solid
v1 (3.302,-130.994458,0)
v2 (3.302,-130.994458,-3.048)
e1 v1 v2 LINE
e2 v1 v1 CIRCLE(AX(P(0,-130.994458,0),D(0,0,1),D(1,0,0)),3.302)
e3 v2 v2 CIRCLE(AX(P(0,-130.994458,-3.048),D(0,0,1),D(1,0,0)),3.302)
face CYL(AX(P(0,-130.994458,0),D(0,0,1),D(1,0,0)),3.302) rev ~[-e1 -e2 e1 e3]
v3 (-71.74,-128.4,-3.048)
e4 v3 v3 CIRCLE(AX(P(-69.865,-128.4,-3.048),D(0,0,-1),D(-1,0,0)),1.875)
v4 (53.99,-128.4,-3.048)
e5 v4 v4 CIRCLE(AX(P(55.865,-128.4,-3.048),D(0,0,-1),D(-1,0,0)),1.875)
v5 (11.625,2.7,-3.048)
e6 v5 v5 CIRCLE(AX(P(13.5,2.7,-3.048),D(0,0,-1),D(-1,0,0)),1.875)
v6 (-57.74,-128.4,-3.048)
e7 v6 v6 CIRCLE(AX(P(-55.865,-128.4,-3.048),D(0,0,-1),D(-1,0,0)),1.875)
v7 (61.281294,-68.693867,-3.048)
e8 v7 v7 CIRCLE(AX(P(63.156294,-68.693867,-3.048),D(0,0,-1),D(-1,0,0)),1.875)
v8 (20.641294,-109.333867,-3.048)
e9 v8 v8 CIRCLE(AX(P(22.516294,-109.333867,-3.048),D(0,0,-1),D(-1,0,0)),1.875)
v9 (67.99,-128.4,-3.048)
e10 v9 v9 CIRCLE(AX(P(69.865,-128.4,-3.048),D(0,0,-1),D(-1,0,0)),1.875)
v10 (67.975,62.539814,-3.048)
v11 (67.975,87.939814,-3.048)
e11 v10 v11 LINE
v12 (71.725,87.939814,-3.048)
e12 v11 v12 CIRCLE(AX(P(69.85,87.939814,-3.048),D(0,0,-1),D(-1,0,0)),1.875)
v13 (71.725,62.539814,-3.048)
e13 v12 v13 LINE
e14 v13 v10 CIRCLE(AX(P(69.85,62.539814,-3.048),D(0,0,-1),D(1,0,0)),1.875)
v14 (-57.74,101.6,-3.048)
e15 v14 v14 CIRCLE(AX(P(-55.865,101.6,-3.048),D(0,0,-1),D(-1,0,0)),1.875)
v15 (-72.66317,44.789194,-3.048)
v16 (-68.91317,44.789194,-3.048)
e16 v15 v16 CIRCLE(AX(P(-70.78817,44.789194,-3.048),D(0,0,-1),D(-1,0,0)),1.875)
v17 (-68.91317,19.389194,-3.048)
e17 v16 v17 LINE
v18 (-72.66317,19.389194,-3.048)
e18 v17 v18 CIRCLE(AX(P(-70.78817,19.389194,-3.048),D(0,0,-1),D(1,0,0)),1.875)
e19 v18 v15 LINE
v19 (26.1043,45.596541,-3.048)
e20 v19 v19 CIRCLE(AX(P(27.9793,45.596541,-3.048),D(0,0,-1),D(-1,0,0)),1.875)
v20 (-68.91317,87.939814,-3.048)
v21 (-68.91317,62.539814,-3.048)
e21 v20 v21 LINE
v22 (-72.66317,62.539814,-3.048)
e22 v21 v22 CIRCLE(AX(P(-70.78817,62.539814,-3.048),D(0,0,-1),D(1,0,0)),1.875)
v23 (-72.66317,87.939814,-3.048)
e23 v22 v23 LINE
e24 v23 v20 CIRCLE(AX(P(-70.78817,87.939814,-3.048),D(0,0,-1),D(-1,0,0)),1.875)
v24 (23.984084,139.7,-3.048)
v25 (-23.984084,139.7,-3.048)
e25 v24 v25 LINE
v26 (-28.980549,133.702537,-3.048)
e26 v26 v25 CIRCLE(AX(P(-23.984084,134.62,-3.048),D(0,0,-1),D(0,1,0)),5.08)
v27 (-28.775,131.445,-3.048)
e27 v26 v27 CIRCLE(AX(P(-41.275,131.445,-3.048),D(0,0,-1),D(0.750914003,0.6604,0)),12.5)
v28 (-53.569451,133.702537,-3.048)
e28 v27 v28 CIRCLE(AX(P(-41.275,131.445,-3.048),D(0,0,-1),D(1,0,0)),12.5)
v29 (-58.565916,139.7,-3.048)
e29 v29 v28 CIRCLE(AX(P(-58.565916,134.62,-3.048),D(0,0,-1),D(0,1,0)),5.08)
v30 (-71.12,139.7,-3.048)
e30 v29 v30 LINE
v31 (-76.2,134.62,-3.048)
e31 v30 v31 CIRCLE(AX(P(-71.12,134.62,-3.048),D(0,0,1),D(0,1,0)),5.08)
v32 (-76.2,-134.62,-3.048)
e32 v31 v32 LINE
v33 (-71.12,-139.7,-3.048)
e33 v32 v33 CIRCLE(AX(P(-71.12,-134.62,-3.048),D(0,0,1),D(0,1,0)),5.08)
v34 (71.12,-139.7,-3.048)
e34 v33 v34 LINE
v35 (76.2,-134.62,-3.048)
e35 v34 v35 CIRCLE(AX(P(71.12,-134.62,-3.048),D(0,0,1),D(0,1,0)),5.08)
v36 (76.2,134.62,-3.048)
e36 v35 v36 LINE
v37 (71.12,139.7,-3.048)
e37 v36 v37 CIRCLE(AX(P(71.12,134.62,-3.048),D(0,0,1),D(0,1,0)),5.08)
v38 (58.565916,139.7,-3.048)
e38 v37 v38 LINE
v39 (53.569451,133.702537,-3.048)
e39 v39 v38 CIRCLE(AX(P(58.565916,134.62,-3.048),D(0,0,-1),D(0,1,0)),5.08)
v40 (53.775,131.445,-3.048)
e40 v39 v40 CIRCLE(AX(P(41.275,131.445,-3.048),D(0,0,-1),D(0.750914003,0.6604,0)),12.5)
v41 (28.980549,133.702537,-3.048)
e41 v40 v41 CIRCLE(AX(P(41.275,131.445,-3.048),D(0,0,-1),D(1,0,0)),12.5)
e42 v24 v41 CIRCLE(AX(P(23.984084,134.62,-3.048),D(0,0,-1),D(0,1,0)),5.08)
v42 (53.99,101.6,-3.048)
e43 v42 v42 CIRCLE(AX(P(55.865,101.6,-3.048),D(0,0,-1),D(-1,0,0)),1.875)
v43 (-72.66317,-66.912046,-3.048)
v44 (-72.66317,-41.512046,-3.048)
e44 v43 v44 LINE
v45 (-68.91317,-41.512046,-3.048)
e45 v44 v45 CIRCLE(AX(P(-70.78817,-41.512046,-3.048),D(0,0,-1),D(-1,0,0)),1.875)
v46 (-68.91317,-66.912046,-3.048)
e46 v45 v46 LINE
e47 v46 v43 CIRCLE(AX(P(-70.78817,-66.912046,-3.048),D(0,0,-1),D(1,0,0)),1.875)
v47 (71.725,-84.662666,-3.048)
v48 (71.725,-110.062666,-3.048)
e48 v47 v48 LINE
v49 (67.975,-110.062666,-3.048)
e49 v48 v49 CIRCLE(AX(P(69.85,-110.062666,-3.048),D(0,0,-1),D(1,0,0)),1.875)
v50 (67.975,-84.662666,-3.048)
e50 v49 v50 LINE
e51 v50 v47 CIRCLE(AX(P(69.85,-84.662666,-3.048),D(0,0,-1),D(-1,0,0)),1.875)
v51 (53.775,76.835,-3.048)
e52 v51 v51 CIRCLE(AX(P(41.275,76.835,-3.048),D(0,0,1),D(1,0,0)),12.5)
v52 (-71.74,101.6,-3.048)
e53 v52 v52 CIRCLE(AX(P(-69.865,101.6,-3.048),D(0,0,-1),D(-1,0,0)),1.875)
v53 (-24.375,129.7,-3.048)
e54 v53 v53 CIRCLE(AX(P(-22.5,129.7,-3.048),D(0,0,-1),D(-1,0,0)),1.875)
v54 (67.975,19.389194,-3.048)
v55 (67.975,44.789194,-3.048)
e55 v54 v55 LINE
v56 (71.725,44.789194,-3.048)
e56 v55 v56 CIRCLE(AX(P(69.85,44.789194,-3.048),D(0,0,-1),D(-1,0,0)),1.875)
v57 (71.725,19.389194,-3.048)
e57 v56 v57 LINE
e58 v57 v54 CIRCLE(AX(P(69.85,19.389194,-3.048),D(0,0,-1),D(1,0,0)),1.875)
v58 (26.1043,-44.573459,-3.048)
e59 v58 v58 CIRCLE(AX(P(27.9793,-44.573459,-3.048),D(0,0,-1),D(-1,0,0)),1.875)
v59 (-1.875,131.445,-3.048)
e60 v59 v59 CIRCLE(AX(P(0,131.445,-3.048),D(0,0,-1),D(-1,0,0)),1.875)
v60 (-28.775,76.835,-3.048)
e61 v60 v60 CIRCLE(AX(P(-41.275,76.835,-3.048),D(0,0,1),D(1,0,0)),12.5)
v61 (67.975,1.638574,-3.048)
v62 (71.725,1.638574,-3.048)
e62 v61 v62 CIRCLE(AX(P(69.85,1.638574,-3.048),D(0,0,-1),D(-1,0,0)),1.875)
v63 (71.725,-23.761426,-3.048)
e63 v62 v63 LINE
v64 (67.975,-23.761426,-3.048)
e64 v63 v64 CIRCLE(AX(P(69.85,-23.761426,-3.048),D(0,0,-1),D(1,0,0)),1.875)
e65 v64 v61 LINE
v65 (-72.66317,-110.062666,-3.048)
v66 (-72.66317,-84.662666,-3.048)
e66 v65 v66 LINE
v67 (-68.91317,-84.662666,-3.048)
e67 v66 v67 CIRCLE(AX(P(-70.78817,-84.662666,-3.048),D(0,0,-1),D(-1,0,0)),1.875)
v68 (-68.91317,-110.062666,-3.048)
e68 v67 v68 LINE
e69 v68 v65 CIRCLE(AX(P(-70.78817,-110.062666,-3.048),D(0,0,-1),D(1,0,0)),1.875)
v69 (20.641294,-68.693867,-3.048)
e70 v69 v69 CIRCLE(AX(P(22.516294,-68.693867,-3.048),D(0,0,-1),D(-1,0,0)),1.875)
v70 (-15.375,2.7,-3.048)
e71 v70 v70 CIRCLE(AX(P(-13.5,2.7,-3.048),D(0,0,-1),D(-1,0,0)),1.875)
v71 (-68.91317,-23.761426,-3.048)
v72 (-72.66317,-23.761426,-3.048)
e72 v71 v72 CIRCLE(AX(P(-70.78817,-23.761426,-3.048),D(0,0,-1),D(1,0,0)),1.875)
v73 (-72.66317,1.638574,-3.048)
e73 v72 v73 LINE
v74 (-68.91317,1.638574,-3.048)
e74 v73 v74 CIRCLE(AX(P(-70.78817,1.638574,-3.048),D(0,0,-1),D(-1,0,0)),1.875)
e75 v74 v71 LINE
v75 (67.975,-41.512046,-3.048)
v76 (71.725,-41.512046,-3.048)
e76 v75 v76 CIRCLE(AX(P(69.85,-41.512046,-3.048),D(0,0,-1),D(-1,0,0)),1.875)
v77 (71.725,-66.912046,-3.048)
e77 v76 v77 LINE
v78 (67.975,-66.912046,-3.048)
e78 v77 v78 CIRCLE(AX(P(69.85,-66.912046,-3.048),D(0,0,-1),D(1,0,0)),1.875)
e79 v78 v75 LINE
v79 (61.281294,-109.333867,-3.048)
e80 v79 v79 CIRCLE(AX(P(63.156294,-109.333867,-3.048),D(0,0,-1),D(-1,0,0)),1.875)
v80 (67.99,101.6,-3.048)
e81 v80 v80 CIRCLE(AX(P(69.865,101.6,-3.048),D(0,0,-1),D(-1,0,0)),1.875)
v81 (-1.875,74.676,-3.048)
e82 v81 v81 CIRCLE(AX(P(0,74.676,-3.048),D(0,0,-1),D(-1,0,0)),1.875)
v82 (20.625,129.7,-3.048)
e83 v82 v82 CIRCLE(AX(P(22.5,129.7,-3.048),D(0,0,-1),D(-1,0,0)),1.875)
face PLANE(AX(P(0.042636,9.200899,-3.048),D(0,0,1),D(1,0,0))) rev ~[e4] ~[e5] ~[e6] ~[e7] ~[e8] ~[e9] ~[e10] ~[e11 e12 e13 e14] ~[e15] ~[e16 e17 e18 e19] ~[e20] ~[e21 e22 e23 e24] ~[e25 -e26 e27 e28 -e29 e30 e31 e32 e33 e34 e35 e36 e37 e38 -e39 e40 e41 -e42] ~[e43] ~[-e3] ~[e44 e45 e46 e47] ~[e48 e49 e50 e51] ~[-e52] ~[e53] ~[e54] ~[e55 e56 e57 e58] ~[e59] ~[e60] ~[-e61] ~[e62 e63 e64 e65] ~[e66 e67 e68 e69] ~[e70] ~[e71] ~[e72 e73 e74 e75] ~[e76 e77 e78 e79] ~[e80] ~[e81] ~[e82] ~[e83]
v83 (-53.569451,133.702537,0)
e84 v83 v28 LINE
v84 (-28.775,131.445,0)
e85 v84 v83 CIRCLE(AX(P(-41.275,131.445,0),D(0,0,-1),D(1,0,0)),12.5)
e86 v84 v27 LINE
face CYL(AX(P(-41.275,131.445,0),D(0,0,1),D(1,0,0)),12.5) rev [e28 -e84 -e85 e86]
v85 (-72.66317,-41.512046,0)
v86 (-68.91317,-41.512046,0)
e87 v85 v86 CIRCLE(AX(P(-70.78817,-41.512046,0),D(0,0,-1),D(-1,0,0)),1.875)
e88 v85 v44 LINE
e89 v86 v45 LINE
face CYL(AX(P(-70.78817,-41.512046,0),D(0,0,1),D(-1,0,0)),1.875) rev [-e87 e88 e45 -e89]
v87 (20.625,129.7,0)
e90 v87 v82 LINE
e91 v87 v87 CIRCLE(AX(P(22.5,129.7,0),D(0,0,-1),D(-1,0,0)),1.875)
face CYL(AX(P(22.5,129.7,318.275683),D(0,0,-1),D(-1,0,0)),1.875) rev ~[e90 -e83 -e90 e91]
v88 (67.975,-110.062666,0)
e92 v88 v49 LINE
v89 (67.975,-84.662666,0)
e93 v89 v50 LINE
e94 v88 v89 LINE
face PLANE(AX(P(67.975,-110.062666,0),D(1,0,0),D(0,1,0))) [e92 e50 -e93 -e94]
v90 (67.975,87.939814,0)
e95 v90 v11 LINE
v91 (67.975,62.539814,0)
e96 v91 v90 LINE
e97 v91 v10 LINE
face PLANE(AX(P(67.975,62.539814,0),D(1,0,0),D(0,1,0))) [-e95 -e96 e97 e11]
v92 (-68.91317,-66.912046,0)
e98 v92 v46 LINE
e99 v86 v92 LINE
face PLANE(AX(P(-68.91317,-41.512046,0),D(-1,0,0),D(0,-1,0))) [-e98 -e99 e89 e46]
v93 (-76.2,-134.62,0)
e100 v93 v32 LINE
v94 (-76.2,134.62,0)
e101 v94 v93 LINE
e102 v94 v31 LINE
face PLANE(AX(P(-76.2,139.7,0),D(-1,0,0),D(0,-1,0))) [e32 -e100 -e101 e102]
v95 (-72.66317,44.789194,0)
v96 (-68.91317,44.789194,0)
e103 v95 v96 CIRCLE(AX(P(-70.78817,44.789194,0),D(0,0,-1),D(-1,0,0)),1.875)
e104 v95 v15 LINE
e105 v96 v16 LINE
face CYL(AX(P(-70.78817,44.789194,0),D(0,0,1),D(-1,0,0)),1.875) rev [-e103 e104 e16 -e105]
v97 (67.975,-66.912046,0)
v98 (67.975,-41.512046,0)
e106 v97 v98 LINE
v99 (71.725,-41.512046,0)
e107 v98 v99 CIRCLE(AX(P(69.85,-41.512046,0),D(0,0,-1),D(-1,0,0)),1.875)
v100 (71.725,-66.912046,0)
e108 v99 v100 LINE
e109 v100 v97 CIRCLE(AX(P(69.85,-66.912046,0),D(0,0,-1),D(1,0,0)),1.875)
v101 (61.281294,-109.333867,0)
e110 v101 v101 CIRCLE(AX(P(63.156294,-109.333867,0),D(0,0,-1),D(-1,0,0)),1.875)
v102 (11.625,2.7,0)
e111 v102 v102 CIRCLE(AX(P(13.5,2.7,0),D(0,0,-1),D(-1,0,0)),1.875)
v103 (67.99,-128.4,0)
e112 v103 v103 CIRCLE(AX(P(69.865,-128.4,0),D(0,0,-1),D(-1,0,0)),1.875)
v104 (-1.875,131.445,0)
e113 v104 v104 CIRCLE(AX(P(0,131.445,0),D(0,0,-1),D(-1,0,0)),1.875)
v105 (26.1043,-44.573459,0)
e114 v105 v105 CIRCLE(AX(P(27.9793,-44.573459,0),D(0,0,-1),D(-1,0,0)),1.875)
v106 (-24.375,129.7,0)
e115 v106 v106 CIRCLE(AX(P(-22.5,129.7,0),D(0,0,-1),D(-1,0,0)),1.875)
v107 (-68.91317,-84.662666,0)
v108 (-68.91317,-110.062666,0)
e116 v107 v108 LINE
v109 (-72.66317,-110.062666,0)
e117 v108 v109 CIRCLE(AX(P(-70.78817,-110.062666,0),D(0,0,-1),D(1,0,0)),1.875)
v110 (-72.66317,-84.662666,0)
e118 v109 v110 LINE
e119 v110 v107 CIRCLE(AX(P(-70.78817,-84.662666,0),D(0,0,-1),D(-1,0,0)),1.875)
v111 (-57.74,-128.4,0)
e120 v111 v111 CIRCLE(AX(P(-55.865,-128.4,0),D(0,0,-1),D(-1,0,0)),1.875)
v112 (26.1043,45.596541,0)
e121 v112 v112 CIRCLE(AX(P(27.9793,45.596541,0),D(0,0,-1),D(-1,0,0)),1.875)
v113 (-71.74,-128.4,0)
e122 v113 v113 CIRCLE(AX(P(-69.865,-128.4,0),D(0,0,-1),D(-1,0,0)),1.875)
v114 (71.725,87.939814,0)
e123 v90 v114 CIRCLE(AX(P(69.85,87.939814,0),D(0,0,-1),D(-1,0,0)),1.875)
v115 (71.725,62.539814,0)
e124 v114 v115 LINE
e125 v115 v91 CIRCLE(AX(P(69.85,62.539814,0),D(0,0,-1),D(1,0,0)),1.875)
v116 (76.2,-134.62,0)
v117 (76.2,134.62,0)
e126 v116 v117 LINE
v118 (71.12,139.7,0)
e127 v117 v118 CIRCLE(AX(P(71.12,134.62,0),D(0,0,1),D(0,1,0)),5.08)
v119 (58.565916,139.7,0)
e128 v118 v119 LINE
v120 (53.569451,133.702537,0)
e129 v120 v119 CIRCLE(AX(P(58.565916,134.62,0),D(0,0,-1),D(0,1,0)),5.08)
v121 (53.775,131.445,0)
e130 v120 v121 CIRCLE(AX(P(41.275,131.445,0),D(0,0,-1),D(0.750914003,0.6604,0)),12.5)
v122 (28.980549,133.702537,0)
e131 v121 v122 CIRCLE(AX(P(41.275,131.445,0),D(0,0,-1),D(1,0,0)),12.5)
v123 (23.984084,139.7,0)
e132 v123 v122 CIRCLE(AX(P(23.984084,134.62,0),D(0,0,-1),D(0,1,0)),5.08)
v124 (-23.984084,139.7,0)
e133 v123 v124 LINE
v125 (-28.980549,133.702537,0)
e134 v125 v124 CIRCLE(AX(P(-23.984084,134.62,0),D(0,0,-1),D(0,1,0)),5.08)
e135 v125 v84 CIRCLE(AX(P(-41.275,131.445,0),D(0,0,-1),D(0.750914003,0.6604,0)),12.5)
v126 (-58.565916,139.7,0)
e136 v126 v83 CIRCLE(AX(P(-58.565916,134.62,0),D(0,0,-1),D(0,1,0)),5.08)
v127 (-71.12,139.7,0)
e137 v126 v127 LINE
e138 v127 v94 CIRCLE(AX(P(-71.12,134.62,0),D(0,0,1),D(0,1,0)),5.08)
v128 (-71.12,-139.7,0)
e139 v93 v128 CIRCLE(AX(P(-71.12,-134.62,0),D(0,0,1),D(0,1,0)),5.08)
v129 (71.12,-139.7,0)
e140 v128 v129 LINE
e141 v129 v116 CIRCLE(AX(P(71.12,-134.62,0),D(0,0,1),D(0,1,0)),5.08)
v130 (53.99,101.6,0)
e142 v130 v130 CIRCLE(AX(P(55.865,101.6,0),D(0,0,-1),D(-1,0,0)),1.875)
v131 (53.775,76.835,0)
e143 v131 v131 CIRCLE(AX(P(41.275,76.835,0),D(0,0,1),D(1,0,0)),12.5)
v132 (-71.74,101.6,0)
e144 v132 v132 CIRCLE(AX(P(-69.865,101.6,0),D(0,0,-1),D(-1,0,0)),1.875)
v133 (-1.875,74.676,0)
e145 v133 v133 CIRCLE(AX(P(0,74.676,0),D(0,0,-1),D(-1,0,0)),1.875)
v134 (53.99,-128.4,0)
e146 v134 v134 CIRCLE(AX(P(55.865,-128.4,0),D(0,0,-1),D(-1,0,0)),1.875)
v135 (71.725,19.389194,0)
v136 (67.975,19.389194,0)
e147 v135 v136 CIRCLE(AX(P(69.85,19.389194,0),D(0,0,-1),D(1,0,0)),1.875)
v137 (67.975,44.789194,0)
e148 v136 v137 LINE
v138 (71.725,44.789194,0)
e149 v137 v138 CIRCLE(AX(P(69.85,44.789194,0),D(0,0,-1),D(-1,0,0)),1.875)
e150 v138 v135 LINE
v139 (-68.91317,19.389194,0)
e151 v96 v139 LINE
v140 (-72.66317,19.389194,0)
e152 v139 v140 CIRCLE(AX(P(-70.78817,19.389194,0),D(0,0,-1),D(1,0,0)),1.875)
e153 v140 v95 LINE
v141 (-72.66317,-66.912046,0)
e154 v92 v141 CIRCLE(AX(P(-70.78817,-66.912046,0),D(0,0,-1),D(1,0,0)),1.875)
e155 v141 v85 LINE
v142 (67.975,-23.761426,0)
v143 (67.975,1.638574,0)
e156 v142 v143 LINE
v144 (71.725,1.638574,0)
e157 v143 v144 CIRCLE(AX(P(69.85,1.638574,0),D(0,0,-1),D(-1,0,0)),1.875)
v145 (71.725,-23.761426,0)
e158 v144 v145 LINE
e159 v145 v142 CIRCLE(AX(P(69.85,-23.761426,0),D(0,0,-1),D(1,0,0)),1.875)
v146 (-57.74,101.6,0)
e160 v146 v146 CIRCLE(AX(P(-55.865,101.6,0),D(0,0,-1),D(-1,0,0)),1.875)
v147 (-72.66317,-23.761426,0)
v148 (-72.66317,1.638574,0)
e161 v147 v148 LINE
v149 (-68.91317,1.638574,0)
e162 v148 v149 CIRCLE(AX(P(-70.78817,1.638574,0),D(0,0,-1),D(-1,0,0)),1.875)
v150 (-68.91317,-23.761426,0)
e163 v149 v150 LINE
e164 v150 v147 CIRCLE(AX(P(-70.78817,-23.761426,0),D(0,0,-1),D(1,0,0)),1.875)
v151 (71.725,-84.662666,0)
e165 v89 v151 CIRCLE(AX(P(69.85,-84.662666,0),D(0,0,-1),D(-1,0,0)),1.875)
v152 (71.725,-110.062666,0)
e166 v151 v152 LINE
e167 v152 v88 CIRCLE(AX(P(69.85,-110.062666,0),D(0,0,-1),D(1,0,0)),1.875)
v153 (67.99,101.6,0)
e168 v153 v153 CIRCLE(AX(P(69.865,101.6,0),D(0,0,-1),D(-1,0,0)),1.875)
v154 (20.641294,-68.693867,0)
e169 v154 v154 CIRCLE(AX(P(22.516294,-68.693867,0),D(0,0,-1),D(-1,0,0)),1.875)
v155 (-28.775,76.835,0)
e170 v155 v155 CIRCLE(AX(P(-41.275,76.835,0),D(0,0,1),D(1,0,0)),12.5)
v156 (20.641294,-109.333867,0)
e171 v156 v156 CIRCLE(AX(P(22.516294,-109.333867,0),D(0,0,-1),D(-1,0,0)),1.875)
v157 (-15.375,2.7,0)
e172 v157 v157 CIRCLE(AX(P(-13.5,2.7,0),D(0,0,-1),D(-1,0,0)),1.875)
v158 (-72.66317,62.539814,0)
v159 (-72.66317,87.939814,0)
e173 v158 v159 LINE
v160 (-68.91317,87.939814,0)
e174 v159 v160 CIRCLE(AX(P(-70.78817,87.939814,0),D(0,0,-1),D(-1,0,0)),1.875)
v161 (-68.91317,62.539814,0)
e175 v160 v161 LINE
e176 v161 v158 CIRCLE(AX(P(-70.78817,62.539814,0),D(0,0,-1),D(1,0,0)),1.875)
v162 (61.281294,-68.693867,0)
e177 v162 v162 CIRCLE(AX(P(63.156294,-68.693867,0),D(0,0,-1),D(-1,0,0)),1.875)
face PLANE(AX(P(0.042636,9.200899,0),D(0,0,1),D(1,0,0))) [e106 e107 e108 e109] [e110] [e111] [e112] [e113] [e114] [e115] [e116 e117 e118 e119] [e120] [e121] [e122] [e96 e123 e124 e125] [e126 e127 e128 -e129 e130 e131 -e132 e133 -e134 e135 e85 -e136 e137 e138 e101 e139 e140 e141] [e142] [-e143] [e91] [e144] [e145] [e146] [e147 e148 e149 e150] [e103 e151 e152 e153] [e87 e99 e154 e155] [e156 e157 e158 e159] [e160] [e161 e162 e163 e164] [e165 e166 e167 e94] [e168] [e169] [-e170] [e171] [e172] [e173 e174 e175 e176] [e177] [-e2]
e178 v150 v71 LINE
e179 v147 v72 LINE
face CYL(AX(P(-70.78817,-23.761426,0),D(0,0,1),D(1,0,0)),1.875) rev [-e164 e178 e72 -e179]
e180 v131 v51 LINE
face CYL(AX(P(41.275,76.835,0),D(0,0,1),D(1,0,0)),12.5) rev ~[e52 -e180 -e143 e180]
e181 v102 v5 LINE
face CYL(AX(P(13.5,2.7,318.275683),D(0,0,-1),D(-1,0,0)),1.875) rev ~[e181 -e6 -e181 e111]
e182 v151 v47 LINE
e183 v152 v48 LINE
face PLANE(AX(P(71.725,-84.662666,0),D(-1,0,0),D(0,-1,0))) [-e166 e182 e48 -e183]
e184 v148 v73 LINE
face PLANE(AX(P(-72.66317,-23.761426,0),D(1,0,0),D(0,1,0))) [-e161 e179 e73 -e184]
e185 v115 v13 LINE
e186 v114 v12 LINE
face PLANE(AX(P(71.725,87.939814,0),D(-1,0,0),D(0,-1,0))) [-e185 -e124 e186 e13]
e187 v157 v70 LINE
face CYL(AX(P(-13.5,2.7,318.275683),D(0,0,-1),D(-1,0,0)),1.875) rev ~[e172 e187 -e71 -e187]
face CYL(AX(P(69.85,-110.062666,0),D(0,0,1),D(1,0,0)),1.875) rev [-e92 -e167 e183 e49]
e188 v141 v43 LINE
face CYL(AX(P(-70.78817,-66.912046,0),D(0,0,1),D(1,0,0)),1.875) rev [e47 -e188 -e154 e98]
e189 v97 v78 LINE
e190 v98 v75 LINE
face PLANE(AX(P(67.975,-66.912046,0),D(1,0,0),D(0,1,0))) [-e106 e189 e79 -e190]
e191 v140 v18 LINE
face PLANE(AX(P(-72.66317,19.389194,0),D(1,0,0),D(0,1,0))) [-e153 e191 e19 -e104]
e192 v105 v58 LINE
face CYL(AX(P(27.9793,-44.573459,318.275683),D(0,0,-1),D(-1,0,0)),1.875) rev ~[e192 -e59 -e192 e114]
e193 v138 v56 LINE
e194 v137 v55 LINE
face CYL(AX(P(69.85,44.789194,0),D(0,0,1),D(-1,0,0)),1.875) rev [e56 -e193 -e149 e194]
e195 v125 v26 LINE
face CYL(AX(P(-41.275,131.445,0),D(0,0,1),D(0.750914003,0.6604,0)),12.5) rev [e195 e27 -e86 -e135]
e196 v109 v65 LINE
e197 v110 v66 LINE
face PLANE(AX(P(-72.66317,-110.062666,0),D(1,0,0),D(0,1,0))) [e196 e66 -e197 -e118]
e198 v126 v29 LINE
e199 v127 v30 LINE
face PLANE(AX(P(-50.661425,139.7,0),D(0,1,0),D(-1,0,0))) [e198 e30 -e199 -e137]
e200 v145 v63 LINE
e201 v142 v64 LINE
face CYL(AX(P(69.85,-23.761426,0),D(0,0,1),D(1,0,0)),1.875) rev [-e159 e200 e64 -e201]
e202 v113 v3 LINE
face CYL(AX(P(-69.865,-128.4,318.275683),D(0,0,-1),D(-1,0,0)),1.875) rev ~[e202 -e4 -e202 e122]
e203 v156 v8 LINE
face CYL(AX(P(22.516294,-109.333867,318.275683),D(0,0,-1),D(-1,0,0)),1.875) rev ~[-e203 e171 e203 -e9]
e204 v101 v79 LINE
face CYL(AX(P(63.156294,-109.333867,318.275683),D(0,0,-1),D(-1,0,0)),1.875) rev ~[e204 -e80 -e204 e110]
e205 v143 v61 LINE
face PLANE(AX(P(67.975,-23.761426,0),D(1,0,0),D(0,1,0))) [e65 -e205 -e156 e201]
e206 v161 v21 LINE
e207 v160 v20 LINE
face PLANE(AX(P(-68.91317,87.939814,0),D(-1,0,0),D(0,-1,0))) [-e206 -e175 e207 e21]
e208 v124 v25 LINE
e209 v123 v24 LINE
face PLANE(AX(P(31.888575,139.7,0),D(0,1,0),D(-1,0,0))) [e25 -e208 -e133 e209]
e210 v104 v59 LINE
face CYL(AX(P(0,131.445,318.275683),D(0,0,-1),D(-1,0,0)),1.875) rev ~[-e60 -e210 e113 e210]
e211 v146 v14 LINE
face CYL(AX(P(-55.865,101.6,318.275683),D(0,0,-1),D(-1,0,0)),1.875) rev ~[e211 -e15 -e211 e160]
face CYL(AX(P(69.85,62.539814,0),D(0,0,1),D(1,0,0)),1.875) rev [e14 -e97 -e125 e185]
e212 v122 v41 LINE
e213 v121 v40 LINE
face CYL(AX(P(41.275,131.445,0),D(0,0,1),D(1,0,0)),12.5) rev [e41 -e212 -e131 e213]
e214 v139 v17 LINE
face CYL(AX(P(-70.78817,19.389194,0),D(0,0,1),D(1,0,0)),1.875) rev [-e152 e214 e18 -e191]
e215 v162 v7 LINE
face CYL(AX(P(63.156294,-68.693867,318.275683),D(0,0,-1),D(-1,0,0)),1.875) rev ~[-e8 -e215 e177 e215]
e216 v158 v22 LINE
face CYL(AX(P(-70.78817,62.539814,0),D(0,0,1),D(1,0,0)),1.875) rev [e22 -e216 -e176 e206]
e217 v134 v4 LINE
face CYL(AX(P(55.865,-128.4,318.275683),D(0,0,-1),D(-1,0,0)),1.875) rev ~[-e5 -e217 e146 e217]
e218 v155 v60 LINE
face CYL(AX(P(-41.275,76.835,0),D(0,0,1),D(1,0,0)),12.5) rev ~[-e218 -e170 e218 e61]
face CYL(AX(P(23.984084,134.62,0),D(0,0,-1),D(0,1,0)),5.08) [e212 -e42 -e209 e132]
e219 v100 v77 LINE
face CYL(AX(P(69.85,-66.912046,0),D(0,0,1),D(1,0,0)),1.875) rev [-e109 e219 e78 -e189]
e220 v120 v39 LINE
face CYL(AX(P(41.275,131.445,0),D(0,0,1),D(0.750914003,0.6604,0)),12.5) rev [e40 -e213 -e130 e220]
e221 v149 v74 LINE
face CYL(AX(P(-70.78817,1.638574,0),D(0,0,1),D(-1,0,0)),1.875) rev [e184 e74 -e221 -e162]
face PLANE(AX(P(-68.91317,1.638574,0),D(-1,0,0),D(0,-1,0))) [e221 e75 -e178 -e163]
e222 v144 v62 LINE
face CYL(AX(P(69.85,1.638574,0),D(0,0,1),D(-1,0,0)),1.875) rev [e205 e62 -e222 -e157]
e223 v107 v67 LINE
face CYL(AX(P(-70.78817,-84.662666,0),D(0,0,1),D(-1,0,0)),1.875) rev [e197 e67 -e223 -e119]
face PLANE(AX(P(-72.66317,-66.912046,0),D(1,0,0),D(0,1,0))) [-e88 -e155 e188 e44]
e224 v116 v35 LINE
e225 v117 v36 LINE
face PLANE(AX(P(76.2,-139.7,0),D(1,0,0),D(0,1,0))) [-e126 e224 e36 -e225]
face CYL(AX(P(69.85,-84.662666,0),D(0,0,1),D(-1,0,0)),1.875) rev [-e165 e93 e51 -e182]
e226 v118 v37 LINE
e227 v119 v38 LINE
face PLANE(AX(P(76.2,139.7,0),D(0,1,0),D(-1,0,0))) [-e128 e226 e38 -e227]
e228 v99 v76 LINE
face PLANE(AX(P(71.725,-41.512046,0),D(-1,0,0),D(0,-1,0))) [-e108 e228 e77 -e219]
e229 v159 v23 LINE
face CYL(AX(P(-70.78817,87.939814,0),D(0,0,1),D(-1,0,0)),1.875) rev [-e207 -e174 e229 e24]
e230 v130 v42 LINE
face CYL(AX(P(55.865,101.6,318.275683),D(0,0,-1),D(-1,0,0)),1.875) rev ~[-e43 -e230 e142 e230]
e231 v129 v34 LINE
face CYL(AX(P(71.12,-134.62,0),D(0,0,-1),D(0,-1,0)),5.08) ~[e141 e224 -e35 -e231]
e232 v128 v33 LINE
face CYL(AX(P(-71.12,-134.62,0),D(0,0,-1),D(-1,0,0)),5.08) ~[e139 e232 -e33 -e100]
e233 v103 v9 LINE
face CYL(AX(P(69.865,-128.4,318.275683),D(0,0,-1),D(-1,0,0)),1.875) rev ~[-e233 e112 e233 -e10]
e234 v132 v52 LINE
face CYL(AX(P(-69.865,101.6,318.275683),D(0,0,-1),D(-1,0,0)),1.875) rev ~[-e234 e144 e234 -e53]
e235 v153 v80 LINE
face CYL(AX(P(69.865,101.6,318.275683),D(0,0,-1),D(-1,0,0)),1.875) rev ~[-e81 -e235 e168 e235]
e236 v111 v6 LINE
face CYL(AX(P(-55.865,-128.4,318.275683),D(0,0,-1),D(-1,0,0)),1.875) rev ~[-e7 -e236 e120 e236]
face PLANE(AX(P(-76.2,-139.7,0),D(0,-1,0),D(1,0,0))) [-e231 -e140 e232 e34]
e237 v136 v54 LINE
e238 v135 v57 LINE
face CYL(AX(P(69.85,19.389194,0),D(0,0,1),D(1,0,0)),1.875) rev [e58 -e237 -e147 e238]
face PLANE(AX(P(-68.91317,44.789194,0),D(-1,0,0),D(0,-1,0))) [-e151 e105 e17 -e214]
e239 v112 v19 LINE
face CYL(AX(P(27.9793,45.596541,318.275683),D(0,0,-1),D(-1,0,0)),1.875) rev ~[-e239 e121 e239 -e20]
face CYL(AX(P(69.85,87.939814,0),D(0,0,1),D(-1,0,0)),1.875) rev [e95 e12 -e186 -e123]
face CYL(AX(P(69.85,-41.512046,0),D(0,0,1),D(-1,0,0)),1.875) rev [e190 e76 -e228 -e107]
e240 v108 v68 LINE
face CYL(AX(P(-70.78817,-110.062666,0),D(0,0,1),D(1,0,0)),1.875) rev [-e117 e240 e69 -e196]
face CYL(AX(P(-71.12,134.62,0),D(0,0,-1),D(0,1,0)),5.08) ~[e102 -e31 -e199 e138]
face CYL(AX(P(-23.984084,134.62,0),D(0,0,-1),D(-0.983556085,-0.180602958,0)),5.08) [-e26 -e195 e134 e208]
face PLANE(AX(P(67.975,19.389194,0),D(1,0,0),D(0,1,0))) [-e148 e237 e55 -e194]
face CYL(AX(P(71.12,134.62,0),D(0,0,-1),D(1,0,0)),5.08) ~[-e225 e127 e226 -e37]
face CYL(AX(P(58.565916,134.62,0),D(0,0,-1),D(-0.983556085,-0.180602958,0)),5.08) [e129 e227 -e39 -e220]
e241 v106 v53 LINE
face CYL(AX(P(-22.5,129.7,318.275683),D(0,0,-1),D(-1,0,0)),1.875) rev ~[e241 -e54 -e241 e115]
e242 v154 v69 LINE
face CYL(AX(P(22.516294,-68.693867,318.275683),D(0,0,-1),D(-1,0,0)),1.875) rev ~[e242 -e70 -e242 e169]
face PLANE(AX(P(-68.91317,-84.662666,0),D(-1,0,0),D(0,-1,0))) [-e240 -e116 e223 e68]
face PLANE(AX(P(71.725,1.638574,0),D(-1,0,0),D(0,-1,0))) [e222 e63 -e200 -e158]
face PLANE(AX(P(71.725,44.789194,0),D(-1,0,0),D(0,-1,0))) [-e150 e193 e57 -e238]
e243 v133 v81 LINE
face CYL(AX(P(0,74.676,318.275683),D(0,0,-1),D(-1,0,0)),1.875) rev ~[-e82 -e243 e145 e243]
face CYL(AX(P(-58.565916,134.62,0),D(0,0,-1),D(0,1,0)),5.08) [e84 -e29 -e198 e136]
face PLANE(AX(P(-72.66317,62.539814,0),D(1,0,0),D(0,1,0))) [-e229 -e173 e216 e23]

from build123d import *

# Parameters (mm, degrees)
F0_R     = 3.302
F0_R_2   = 12.5
F1_DEPTH = 3.048
F2_D     = 3.75
F3_R     = 5.08
F4_R     = 5.08


with BuildPart() as f1:
    # F0 (on Top) → F1 (new body)
    with BuildSketch(Plane.XY):
        with BuildLine():
            Line((-50.6614250383, 139.7), (-76.2, 139.7))
            Line((-76.2, 139.7), (-76.2, -139.7))
            Line((-76.2, -139.7), (76.2, -139.7))
            Line((76.2, -139.7), (76.2, 139.7))
            Line((76.2, 139.7), (50.6614250383, 139.7))
            ThreePointArc((50.6614250383, 139.7), (52.970732405, 135.8563312628), (53.775, 131.445))
            ThreePointArc((53.775, 131.445), (36.8636687372, 119.749267595), (31.8885749617, 139.7))
            Line((31.8885749617, 139.7), (-31.8885749617, 139.7))
            ThreePointArc((-31.8885749617, 139.7), (-29.579267595, 135.8563312628), (-28.775, 131.445))
            ThreePointArc((-28.775, 131.445), (-45.6863312628, 119.749267595), (-50.6614250383, 139.7))
        make_face()
        with BuildLine():
            ThreePointArc((-72.66317, -84.6626662669), (-70.78817, -82.7876662669), (-68.91317, -84.6626662669))
            Line((-68.91317, -84.6626662669), (-68.91317, -110.0626662669))
            ThreePointArc((-68.91317, -110.0626662669), (-70.78817, -111.9376662669), (-72.66317, -110.0626662669))
            Line((-72.66317, -110.0626662669), (-72.66317, -84.6626662669))
        make_face(mode=Mode.SUBTRACT)
        with BuildLine():
            ThreePointArc((-72.66317, -41.5120462669), (-70.78817, -39.6370462669), (-68.91317, -41.5120462669))
            Line((-68.91317, -41.5120462669), (-68.91317, -66.9120462669))
            ThreePointArc((-68.91317, -66.9120462669), (-70.78817, -68.7870462669), (-72.66317, -66.9120462669))
            Line((-72.66317, -66.9120462669), (-72.66317, -41.5120462669))
        make_face(mode=Mode.SUBTRACT)
        with BuildLine():
            ThreePointArc((-72.66317, 1.6385737331), (-70.78817, 3.5135737331), (-68.91317, 1.6385737331))
            Line((-68.91317, 1.6385737331), (-68.91317, -23.7614262669))
            ThreePointArc((-68.91317, -23.7614262669), (-70.78817, -25.6364262669), (-72.66317, -23.7614262669))
            Line((-72.66317, -23.7614262669), (-72.66317, 1.6385737331))
        make_face(mode=Mode.SUBTRACT)
        with Locations((0, -130.9944583397)):
            Circle(F0_R, mode=Mode.SUBTRACT)
        with BuildLine():
            ThreePointArc((67.975, -84.6626662669), (69.85, -82.7876662669), (71.725, -84.6626662669))
            Line((71.725, -84.6626662669), (71.725, -110.0626662669))
            ThreePointArc((71.725, -110.0626662669), (69.85, -111.9376662669), (67.975, -110.0626662669))
            Line((67.975, -110.0626662669), (67.975, -84.6626662669))
        make_face(mode=Mode.SUBTRACT)
        with BuildLine():
            ThreePointArc((67.975, -41.5120462669), (69.85, -39.6370462669), (71.725, -41.5120462669))
            Line((71.725, -41.5120462669), (71.725, -66.9120462669))
            ThreePointArc((71.725, -66.9120462669), (69.85, -68.7870462669), (67.975, -66.9120462669))
            Line((67.975, -66.9120462669), (67.975, -41.5120462669))
        make_face(mode=Mode.SUBTRACT)
        with BuildLine():
            ThreePointArc((67.975, 1.6385737331), (69.85, 3.5135737331), (71.725, 1.6385737331))
            Line((71.725, 1.6385737331), (71.725, -23.7614262669))
            ThreePointArc((71.725, -23.7614262669), (69.85, -25.6364262669), (67.975, -23.7614262669))
            Line((67.975, -23.7614262669), (67.975, 1.6385737331))
        make_face(mode=Mode.SUBTRACT)
        with BuildLine():
            ThreePointArc((-72.66317, 44.7891937331), (-70.78817, 46.6641937331), (-68.91317, 44.7891937331))
            Line((-68.91317, 44.7891937331), (-68.91317, 19.3891937331))
            ThreePointArc((-68.91317, 19.3891937331), (-70.78817, 17.5141937331), (-72.66317, 19.3891937331))
            Line((-72.66317, 19.3891937331), (-72.66317, 44.7891937331))
        make_face(mode=Mode.SUBTRACT)
        with BuildLine():
            ThreePointArc((-72.66317, 87.9398137331), (-70.78817, 89.8148137331), (-68.91317, 87.9398137331))
            Line((-68.91317, 87.9398137331), (-68.91317, 62.5398137331))
            ThreePointArc((-68.91317, 62.5398137331), (-70.78817, 60.6648137331), (-72.66317, 62.5398137331))
            Line((-72.66317, 62.5398137331), (-72.66317, 87.9398137331))
        make_face(mode=Mode.SUBTRACT)
        with Locations((-41.275, 76.835)):
            Circle(F0_R_2, mode=Mode.SUBTRACT)
        with BuildLine():
            ThreePointArc((67.975, 44.7891937331), (69.85, 46.6641937331), (71.725, 44.7891937331))
            Line((71.725, 44.7891937331), (71.725, 19.3891937331))
            ThreePointArc((71.725, 19.3891937331), (69.85, 17.5141937331), (67.975, 19.3891937331))
            Line((67.975, 19.3891937331), (67.975, 44.7891937331))
        make_face(mode=Mode.SUBTRACT)
        with Locations((41.275, 76.835)):
            Circle(F0_R_2, mode=Mode.SUBTRACT)
        with BuildLine():
            Line((67.975, 62.5398137331), (67.975, 87.9398137331))
            ThreePointArc((67.975, 87.9398137331), (69.85, 89.8148137331), (71.725, 87.9398137331))
            Line((71.725, 87.9398137331), (71.725, 62.5398137331))
            ThreePointArc((71.725, 62.5398137331), (69.85, 60.6648137331), (67.975, 62.5398137331))
        make_face(mode=Mode.SUBTRACT)
    extrude(amount=-F1_DEPTH)

    # F2 (through all)
    with Locations(Plane.XY):
        with Locations((-69.865, 101.6), (-55.865, 101.6), (27.9793004394, 45.5965413487), (27.9793004394, -44.5734586513), (55.865, 101.6), (69.865, 101.6), (22.5162935781, -68.6938670802), (22.5162935781, -109.3338670802), (63.1562935781, -109.3338670802), (63.1562935781, -68.6938670802), (-55.865, -128.4), (-69.865, -128.4), (55.865, -128.4), (69.865, -128.4), (0, 131.445), (0, 74.676), (-22.5, 129.7), (22.5, 129.7), (13.5, 2.7), (-13.5, 2.7)):
            Hole(F2_D / 2)

    # F3
    f3_edges = [f1.edges().sort_by_distance(p)[0] for p in [
        (-76.2, 139.7, -1.524),
        (76.2, 139.7, -1.524),
        (76.2, -139.7, -1.524),
        (-76.2, -139.7, -1.524),
    ]]
    fillet(f3_edges, radius=F3_R)

    # F4
    f4_edges = [f1.edges().sort_by_distance(p)[0] for p in [
        (-50.661425, 139.7, -1.524),
        (-31.888575, 139.7, -1.524),
        (31.888575, 139.7, -1.524),
        (50.661425, 139.7, -1.524),
    ]]
    fillet(f4_edges, radius=F4_R)


solid = f1.part
